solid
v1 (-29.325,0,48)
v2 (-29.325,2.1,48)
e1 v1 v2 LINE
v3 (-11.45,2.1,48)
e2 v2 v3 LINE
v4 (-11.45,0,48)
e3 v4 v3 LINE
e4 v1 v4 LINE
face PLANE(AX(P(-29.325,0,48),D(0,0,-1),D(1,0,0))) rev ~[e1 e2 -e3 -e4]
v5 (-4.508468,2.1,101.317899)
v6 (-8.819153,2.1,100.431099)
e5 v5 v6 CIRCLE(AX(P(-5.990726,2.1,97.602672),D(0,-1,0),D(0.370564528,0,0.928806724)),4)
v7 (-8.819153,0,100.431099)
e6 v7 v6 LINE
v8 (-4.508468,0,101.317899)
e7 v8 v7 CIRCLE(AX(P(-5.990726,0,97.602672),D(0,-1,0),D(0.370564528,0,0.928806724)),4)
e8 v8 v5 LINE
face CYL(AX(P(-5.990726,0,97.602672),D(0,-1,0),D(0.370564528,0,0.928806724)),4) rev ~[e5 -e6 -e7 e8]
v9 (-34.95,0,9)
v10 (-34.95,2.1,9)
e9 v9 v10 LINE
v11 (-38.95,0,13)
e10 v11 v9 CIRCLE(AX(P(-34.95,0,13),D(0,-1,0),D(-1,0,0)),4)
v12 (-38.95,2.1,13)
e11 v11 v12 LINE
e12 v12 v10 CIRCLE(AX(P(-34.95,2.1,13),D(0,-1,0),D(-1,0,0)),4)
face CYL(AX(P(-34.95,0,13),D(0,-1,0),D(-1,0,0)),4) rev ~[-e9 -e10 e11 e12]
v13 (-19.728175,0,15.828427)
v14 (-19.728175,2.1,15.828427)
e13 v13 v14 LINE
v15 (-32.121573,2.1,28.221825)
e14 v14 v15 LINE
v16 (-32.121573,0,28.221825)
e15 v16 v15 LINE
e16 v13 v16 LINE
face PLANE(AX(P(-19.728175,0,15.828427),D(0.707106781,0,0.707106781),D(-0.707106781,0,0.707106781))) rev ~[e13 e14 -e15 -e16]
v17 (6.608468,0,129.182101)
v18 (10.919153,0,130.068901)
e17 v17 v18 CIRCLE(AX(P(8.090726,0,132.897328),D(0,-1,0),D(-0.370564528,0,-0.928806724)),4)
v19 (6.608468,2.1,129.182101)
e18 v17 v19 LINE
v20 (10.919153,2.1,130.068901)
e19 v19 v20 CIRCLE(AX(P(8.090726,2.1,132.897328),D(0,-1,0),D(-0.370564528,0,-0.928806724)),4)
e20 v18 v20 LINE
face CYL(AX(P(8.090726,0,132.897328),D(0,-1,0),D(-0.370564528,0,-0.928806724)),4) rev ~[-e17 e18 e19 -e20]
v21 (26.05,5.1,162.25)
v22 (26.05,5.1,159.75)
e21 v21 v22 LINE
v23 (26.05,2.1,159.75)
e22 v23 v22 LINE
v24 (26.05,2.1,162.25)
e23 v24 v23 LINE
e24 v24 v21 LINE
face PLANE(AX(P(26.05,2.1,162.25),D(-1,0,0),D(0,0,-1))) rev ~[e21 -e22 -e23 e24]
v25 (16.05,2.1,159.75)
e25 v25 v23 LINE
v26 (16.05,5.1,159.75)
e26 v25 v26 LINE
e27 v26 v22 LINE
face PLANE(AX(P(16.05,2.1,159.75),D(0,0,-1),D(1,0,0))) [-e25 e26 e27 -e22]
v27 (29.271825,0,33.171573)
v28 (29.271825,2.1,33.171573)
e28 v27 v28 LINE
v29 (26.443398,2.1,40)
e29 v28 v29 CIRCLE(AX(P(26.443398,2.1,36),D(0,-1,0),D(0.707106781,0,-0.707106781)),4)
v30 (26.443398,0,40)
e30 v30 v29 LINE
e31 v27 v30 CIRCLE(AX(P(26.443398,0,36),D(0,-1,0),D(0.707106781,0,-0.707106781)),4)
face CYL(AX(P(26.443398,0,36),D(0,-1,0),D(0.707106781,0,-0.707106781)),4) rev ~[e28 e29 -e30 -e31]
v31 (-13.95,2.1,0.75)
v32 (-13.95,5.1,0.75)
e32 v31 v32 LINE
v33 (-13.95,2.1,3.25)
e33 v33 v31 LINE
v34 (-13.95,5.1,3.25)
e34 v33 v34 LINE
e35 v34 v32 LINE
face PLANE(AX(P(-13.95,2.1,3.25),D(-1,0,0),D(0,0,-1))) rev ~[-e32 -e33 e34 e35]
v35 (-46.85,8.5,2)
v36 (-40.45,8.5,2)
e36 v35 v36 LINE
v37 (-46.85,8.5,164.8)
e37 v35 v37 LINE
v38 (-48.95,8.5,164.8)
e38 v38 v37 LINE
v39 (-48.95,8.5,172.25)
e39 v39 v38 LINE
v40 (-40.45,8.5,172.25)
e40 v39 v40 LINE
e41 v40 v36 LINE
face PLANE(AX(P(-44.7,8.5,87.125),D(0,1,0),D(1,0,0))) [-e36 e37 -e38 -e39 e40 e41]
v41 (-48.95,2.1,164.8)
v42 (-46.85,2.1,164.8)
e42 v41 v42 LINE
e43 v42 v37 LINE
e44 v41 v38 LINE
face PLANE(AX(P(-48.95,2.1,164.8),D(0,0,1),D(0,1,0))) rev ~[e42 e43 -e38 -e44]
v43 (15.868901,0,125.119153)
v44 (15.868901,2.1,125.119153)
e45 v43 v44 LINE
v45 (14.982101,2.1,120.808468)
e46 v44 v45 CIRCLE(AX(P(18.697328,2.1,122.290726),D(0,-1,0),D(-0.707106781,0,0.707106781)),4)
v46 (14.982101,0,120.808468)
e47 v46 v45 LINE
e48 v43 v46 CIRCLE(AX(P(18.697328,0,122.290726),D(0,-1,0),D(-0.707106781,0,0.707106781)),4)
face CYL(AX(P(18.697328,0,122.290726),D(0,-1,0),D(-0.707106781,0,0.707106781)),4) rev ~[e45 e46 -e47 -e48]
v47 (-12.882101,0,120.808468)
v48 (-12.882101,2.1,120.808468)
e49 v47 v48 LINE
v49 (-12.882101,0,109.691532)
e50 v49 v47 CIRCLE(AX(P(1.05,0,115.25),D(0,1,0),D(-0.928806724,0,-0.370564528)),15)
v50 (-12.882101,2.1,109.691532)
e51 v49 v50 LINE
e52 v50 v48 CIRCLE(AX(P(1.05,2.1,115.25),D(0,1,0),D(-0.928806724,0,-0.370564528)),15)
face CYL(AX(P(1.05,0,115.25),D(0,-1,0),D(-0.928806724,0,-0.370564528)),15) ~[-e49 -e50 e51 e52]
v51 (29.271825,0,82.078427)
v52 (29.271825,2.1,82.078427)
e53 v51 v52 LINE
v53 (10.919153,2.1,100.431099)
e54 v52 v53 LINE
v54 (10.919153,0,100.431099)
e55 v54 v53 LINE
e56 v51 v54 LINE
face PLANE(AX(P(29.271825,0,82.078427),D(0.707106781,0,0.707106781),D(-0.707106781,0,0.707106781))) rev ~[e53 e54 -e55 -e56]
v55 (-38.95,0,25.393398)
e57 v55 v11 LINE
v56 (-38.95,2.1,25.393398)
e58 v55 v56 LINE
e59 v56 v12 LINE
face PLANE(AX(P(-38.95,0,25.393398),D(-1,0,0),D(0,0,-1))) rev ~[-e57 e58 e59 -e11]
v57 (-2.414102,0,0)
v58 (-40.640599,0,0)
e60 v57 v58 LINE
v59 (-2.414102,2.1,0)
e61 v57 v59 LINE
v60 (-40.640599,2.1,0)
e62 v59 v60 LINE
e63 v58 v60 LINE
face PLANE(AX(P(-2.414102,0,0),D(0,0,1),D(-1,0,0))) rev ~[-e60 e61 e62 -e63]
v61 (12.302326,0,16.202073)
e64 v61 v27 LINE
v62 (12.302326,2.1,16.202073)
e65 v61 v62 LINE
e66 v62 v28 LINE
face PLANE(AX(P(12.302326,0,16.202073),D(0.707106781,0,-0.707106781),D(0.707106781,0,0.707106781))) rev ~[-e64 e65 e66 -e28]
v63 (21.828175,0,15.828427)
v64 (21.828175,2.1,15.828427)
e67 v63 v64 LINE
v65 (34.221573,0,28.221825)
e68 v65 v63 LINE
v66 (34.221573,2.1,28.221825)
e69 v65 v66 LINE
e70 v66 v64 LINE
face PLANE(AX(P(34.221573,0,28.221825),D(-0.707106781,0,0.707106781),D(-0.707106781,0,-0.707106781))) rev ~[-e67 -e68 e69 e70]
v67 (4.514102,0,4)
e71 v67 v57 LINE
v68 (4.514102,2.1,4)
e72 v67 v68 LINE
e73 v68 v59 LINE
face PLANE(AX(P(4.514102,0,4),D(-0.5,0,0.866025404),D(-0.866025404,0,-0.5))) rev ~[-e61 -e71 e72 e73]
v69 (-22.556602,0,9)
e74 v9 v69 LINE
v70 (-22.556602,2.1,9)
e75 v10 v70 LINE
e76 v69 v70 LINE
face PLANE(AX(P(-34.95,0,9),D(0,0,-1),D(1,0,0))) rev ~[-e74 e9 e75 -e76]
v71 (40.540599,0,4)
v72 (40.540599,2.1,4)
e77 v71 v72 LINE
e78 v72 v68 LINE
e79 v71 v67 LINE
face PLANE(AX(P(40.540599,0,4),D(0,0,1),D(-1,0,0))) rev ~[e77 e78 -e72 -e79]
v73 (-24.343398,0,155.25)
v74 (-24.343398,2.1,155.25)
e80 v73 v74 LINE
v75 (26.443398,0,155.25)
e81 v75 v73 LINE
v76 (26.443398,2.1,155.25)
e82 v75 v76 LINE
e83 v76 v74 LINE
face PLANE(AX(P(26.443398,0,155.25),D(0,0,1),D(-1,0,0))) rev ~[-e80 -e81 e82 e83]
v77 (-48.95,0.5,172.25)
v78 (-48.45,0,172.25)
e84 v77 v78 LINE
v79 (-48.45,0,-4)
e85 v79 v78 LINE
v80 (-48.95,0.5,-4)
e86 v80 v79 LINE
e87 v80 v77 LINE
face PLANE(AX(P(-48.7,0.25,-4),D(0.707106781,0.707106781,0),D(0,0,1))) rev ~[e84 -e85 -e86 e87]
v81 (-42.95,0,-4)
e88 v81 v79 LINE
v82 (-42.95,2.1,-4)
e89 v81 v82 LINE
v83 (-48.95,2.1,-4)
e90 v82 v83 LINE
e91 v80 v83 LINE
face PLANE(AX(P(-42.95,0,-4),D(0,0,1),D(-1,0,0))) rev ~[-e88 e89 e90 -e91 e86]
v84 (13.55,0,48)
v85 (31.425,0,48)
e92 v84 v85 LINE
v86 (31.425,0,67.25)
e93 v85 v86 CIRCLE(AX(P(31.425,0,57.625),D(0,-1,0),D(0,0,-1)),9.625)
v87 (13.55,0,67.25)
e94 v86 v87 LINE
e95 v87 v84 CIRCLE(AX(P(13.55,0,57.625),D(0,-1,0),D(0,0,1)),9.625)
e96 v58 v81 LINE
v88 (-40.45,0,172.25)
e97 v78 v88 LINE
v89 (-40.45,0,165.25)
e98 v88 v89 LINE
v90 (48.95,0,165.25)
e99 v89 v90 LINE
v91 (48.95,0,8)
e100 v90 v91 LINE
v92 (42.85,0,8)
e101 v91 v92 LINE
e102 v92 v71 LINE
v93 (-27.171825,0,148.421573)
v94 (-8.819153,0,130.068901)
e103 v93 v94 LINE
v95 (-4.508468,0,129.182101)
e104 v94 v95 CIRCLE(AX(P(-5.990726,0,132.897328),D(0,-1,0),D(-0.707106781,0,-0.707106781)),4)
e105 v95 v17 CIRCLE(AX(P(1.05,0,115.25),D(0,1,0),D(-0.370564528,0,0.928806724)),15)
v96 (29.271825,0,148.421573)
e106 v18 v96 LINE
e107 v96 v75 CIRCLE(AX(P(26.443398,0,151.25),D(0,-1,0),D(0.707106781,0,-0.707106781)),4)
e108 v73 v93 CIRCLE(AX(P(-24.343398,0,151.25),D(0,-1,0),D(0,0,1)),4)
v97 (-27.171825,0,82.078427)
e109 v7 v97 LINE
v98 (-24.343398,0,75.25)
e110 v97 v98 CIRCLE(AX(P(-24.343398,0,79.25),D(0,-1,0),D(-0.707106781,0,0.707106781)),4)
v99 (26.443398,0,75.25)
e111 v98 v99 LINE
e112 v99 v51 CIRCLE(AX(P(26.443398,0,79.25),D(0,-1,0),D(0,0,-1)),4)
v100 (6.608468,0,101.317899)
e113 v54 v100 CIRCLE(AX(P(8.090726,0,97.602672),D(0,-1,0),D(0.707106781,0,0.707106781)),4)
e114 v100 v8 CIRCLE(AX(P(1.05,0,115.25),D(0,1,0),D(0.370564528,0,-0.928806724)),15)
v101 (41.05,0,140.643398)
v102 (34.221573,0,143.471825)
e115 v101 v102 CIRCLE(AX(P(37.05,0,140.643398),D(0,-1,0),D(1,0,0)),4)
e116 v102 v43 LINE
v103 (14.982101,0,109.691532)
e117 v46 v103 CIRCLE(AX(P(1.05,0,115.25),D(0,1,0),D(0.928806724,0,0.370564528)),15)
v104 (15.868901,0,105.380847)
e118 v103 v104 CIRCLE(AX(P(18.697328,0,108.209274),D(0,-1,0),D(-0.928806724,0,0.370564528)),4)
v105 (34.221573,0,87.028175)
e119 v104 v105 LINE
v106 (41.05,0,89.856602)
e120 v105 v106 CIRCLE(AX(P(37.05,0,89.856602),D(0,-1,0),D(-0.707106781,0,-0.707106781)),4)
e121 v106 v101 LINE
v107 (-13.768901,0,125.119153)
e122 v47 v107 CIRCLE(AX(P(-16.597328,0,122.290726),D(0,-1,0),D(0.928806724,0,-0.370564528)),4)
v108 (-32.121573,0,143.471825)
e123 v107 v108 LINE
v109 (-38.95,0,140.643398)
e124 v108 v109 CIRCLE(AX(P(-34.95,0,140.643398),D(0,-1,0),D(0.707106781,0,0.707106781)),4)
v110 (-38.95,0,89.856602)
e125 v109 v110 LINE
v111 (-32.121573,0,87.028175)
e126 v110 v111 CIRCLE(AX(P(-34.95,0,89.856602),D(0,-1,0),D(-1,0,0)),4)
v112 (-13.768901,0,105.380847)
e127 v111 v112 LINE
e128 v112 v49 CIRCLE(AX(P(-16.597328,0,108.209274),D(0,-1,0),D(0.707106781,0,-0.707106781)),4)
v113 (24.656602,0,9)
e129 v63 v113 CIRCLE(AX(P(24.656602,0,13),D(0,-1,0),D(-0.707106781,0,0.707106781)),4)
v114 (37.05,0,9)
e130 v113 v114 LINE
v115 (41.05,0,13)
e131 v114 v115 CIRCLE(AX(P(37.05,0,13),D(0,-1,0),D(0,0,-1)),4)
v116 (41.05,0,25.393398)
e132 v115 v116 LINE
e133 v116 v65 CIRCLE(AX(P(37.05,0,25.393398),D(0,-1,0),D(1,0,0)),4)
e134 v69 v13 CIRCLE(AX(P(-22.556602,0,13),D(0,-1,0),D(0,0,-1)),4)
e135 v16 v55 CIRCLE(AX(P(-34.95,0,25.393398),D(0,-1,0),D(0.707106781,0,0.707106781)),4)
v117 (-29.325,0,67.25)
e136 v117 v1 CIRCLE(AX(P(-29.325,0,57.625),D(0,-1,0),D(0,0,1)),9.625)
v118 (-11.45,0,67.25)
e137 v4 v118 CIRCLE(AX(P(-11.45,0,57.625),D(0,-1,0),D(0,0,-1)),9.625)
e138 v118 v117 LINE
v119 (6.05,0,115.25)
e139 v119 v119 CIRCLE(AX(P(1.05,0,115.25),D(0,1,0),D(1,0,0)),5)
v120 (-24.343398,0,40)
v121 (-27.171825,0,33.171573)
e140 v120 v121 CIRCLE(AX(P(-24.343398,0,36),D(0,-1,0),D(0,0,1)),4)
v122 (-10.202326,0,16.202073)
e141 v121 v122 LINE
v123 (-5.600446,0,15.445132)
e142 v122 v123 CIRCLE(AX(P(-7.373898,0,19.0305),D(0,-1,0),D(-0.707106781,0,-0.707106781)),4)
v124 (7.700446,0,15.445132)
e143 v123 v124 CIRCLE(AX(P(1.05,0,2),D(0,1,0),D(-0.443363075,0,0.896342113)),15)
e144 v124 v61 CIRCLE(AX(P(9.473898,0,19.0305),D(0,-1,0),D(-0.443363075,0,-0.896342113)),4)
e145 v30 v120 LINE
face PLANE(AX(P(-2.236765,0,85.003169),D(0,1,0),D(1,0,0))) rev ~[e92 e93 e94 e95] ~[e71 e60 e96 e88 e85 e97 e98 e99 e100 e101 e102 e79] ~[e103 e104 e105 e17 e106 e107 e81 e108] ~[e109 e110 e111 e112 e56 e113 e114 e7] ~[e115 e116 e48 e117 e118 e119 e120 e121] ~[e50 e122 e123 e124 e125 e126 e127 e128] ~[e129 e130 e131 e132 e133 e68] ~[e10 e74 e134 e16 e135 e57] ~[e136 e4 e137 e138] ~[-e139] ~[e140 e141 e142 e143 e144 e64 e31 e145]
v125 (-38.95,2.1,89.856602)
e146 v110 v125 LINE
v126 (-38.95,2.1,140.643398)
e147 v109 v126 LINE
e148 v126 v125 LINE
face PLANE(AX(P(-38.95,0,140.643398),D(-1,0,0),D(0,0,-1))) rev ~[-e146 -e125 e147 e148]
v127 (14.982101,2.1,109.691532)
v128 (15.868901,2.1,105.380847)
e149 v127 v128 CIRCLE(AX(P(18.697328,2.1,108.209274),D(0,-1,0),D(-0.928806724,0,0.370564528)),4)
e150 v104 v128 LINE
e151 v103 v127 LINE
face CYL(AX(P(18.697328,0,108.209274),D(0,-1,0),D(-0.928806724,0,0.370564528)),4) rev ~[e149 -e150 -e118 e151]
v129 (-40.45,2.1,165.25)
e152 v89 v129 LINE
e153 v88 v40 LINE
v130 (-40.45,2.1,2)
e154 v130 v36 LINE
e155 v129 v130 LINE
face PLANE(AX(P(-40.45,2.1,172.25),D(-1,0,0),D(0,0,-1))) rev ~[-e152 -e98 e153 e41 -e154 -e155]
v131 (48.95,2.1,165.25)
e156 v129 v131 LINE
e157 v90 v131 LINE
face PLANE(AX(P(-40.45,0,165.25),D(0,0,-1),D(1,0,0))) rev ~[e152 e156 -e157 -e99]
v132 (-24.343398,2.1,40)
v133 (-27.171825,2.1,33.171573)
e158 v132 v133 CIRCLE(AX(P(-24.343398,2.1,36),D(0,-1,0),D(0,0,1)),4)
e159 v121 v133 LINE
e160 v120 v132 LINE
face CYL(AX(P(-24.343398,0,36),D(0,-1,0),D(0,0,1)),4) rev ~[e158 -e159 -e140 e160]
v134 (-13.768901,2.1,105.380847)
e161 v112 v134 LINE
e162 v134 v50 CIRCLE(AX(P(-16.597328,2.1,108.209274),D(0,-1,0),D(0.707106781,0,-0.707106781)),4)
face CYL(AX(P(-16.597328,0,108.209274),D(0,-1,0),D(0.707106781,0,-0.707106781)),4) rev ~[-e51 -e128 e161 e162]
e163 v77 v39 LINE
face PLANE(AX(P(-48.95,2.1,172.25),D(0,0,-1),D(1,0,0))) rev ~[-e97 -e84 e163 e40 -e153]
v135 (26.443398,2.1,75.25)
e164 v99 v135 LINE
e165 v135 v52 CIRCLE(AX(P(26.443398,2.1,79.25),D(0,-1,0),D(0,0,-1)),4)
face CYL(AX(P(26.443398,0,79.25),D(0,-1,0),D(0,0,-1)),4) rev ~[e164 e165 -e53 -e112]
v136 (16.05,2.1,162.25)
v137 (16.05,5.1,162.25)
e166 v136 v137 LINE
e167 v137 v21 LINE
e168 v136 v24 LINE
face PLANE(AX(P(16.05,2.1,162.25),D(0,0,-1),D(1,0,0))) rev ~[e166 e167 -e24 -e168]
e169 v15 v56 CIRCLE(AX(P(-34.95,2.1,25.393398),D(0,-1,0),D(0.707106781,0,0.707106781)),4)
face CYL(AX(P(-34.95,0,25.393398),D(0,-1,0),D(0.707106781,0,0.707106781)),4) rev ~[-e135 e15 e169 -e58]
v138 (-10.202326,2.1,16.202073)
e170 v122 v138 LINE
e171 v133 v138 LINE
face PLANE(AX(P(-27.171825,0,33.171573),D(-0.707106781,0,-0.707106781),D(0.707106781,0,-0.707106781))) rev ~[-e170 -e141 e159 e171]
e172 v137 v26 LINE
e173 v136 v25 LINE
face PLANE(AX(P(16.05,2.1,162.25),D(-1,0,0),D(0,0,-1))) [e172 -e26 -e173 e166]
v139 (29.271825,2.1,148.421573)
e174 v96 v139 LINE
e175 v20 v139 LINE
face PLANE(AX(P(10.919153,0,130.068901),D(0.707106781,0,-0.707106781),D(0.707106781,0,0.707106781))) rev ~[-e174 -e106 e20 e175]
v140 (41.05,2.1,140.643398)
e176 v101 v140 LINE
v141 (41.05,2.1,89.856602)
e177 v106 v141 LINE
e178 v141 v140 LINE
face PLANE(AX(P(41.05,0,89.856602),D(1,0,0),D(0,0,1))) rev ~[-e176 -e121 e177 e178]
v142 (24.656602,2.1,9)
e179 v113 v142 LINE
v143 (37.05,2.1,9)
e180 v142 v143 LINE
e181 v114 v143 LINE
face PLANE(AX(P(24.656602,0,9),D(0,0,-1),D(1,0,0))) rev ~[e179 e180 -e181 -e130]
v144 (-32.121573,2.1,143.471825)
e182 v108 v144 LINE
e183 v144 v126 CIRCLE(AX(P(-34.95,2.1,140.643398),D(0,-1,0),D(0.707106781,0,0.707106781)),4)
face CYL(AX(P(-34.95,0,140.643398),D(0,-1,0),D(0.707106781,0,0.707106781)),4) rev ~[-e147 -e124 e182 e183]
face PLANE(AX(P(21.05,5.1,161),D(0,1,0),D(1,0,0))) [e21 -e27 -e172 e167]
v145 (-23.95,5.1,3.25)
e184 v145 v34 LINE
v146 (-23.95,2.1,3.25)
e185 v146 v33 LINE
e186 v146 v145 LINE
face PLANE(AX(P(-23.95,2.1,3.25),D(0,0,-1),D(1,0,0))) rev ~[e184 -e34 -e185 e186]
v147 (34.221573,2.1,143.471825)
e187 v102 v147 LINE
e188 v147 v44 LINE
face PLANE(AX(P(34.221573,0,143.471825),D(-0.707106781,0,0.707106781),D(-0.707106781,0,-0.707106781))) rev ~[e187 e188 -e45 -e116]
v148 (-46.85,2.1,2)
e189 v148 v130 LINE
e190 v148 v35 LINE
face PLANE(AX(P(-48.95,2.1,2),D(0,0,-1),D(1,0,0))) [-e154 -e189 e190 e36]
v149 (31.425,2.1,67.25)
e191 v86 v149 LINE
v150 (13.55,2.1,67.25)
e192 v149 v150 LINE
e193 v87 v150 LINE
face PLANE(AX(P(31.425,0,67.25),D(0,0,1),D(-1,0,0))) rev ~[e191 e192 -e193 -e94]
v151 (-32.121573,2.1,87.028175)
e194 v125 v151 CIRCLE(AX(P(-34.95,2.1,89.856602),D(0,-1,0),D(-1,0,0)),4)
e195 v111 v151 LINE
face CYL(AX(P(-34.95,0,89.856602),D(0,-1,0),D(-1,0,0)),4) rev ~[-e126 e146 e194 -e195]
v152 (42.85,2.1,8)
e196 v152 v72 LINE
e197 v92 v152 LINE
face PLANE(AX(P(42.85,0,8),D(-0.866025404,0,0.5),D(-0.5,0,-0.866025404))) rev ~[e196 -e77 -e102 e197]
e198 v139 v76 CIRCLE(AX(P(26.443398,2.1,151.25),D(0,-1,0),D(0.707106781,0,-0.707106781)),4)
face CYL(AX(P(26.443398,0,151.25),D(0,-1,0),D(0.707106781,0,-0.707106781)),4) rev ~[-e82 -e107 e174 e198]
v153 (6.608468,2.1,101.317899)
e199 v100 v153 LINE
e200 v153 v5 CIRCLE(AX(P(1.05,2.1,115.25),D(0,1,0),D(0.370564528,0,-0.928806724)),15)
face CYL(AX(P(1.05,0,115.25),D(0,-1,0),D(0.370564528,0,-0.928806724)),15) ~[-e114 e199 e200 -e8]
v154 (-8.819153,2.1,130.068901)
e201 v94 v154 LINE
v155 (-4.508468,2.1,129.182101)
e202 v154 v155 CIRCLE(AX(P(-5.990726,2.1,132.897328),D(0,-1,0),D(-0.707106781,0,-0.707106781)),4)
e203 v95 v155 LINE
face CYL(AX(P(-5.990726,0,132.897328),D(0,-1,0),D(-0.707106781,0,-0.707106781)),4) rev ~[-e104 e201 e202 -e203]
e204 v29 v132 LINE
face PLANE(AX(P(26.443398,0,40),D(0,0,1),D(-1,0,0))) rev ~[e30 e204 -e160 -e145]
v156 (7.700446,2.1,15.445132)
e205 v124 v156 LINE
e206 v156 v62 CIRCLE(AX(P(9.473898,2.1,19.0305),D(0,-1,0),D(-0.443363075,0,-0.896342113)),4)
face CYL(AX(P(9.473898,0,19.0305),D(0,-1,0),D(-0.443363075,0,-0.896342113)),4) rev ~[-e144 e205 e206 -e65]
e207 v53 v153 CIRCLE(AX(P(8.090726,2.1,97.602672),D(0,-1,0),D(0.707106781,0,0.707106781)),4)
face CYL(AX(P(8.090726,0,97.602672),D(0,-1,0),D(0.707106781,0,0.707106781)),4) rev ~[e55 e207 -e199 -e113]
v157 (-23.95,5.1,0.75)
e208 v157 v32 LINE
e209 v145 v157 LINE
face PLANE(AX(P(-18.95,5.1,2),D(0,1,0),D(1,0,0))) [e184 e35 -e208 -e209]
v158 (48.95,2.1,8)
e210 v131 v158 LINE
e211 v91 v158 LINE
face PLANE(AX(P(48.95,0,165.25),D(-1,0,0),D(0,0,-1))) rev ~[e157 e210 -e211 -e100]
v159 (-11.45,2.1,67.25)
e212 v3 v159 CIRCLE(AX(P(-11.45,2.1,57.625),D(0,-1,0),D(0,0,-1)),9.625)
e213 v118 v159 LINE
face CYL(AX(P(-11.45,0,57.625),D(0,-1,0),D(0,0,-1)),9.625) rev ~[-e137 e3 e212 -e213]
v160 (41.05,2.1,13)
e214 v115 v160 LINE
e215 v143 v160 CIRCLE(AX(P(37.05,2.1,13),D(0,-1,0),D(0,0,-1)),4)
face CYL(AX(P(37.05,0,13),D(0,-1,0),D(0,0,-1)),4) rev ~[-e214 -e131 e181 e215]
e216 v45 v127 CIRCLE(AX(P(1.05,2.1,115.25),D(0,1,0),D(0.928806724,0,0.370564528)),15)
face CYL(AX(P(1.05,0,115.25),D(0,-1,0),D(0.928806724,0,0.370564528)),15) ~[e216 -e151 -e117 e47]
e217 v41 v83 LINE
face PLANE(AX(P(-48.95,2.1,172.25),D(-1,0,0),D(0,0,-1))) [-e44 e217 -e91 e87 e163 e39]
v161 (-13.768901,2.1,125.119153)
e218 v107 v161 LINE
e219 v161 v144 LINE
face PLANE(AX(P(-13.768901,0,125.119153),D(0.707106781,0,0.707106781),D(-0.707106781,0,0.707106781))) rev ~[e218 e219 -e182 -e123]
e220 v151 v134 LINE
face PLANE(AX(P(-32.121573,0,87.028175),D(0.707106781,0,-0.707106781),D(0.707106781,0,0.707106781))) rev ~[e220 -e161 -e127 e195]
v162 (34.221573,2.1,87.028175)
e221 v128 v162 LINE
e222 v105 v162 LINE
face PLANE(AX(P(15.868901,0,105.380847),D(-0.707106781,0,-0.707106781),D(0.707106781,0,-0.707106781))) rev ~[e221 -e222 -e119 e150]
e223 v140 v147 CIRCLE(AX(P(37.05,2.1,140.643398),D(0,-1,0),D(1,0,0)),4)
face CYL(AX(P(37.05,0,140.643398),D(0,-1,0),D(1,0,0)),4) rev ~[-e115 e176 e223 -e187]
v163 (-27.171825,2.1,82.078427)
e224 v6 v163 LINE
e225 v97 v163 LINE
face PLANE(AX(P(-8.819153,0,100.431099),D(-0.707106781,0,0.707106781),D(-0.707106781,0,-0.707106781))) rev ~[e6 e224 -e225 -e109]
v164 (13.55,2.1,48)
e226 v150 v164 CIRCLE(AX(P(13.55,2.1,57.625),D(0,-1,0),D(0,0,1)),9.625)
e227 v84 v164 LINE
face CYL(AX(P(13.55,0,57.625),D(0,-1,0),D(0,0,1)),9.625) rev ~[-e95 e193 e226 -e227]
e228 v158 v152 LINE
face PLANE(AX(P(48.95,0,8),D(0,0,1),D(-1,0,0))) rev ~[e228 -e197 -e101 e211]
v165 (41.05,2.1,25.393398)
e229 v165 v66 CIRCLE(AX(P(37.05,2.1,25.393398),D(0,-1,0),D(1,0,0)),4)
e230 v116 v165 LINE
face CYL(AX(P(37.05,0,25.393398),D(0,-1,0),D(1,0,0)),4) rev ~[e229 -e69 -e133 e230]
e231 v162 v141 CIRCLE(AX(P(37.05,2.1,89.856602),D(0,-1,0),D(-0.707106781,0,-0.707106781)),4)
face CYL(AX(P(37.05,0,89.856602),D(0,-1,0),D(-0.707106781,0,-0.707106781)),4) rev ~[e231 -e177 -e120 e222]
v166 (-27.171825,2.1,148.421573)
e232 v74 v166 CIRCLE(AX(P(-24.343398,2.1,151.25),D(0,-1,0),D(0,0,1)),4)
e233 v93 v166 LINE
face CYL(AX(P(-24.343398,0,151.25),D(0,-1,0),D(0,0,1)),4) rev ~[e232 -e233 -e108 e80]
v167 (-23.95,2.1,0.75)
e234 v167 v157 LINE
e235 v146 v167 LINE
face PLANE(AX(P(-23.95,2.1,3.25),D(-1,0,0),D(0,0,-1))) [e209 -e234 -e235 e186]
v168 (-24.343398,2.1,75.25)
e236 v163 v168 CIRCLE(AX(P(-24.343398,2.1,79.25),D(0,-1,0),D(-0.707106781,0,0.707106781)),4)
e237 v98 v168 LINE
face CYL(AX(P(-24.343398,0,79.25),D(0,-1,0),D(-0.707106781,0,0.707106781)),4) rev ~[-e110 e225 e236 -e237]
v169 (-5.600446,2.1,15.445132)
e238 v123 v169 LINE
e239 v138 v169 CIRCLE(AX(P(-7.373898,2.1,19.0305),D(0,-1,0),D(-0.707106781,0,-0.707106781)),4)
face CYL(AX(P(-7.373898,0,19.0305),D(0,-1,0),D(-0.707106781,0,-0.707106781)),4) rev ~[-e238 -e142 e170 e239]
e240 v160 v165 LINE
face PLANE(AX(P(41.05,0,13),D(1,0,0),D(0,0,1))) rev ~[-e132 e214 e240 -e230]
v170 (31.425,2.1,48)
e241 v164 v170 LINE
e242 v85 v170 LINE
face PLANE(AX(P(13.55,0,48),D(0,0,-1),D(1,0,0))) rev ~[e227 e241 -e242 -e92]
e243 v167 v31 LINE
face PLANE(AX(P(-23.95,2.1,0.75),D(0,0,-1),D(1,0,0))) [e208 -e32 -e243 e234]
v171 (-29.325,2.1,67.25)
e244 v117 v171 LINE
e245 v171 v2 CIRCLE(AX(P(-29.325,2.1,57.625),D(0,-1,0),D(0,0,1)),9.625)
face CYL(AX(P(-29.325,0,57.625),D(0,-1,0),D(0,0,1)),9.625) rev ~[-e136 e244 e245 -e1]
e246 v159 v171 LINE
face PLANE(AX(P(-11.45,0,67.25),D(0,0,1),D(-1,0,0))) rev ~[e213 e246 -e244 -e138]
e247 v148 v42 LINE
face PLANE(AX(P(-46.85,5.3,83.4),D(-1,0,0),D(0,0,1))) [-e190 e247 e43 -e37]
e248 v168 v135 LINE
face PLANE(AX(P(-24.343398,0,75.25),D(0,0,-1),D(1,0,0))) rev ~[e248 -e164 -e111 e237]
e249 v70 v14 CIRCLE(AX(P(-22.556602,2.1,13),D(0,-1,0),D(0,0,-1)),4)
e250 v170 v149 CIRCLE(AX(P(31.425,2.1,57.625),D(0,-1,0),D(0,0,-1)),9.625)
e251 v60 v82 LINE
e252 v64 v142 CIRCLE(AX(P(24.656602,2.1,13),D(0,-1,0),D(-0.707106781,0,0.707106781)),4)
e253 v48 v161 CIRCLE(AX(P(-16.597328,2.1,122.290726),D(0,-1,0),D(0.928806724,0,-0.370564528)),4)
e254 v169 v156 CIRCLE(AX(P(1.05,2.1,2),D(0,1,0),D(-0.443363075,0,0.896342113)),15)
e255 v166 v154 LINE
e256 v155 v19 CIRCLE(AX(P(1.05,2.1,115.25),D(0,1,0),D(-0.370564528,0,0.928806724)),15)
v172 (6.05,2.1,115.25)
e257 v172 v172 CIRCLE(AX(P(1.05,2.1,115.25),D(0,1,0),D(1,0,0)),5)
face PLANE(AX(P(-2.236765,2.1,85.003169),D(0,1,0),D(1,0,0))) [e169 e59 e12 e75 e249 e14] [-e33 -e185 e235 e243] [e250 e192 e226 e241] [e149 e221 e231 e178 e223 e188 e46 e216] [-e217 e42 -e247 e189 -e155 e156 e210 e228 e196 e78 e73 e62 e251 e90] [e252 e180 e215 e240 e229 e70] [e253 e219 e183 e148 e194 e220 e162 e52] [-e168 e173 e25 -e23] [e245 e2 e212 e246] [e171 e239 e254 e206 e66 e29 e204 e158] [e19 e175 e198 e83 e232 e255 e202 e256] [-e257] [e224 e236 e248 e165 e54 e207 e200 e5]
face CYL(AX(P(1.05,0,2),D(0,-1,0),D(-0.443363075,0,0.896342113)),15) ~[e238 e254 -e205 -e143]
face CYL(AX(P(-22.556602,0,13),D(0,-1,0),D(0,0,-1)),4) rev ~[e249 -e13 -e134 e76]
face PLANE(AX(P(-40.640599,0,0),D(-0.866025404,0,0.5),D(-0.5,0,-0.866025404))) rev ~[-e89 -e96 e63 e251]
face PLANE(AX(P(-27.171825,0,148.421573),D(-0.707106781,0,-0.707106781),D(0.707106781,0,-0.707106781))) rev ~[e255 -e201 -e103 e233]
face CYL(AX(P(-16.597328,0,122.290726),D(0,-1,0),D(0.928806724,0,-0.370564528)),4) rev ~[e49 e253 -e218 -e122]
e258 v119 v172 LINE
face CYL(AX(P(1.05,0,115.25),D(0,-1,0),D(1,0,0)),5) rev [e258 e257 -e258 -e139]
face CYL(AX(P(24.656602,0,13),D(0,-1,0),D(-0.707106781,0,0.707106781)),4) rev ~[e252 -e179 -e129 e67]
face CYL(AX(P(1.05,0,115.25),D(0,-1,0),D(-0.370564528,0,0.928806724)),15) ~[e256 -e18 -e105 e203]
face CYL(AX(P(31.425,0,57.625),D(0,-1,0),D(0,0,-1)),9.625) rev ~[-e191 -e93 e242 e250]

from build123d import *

# Parameters (mm, degrees)
SKETCH1_R           = 5
BOSS_EXTRUDE1_DEPTH = 2.1
SKETCH2_W           = 8.5
SKETCH2_H           = 170.25
BOSS_EXTRUDE2_DEPTH = 6.4
SKETCH3_W           = 162.8
SKETCH3_H           = 6.4
CUT_EXTRUDE1_DEPTH  = 2.1
SKETCH4_W           = 10
SKETCH4_H           = 2.5
BOSS_EXTRUDE3_DEPTH = 3
CHAMFER1_SIZE       = 0.5


with BuildPart() as part:
    # Sketch1 → Boss-Extrude1 (new body)
    with BuildSketch(Plane(origin=(0, 0, 0), x_dir=(1, 0, 0), z_dir=(0, 1, 0))):
        Polygon((-48.95, 0.55), (-48.95, -172.25), (-40.45, -172.25), (-40.45, -165.25), (48.95, -165.25), (48.95, -8), (42.85, -8), (40.540598923, -4), (4.514101615, -4), (-2.414101615, 0), (-40.640598923, 0), (-42.95, 4), (-48.95, 4), align=None)
        with BuildLine():
            Line((-13.76890063, -125.119153161), (-32.121572875, -143.471825407))
            ThreePointArc((-32.121572875, -143.471825407), (-36.480733729, -144.338916412), (-38.95, -140.643398282))
            Line((-38.95, -140.643398282), (-38.95, -89.856601718))
            ThreePointArc((-38.95, -89.856601718), (-36.480733729, -86.161083588), (-32.121572875, -87.028174593))
            Line((-32.121572875, -87.028174593), (-13.76890063, -105.380846839))
            ThreePointArc((-13.76890063, -105.380846839), (-12.679375, -107.403267629), (-12.882100859, -109.691532076))
            ThreePointArc((-12.882100859, -109.691532076), (-13.95, -115.25), (-12.882100859, -120.808467924))
            ThreePointArc((-12.882100859, -120.808467924), (-12.679375, -123.096732371), (-13.76890063, -125.119153161))
        make_face(mode=Mode.SUBTRACT)
        with BuildLine():
            ThreePointArc((-24.343398282, -155.25), (-28.038916412, -152.780733729), (-27.171825407, -148.421572875))
            Line((-27.171825407, -148.421572875), (-8.819153161, -130.06890063))
            ThreePointArc((-8.819153161, -130.06890063), (-6.796732371, -128.979375), (-4.508467924, -129.182100859))
            ThreePointArc((-4.508467924, -129.182100859), (1.05, -130.25), (6.608467924, -129.182100859))
            ThreePointArc((6.608467924, -129.182100859), (8.896732371, -128.979375), (10.919153161, -130.06890063))
            Line((10.919153161, -130.06890063), (29.271825407, -148.421572875))
            ThreePointArc((29.271825407, -148.421572875), (30.138916412, -152.780733729), (26.443398282, -155.25))
            Line((26.443398282, -155.25), (-24.343398282, -155.25))
        make_face(mode=Mode.SUBTRACT)
        with Locations((1.05, -115.25)):
            Circle(SKETCH1_R, mode=Mode.SUBTRACT)
        with BuildLine():
            Line((29.271825407, -82.078427125), (10.919153161, -100.43109937))
            ThreePointArc((10.919153161, -100.43109937), (8.896732371, -101.520625), (6.608467924, -101.317899141))
            ThreePointArc((6.608467924, -101.317899141), (1.05, -100.25), (-4.508467924, -101.317899141))
            ThreePointArc((-4.508467924, -101.317899141), (-6.796732371, -101.520625), (-8.819153161, -100.43109937))
            Line((-8.819153161, -100.43109937), (-27.171825407, -82.078427125))
            ThreePointArc((-27.171825407, -82.078427125), (-28.038916412, -77.719266271), (-24.343398282, -75.25))
            Line((-24.343398282, -75.25), (26.443398282, -75.25))
            ThreePointArc((26.443398282, -75.25), (30.138916412, -77.719266271), (29.271825407, -82.078427125))
        make_face(mode=Mode.SUBTRACT)
        with BuildLine():
            ThreePointArc((41.05, -140.643398282), (38.580733729, -144.338916412), (34.221572875, -143.471825407))
            Line((34.221572875, -143.471825407), (15.86890063, -125.119153161))
            ThreePointArc((15.86890063, -125.119153161), (14.779375, -123.096732371), (14.982100859, -120.808467924))
            ThreePointArc((14.982100859, -120.808467924), (16.05, -115.25), (14.982100859, -109.691532076))
            ThreePointArc((14.982100859, -109.691532076), (14.779375, -107.403267629), (15.86890063, -105.380846839))
            Line((15.86890063, -105.380846839), (34.221572875, -87.028174593))
            ThreePointArc((34.221572875, -87.028174593), (38.580733729, -86.161083588), (41.05, -89.856601718))
            Line((41.05, -89.856601718), (41.05, -140.643398282))
        make_face(mode=Mode.SUBTRACT)
        with BuildLine():
            ThreePointArc((-29.325, -67.25), (-38.95, -57.625), (-29.325, -48))
            Line((-29.325, -48), (-11.45, -48))
            ThreePointArc((-11.45, -48), (-1.825, -57.625), (-11.45, -67.25))
            Line((-11.45, -67.25), (-29.325, -67.25))
        make_face(mode=Mode.SUBTRACT)
        with BuildLine():
            ThreePointArc((-38.95, -13), (-37.778427125, -10.171572875), (-34.95, -9))
            Line((-34.95, -9), (-22.556601718, -9))
            ThreePointArc((-22.556601718, -9), (-18.861083588, -11.469266271), (-19.728174593, -15.828427125))
            Line((-19.728174593, -15.828427125), (-32.121572875, -28.221825407))
            ThreePointArc((-32.121572875, -28.221825407), (-36.480733729, -29.088916412), (-38.95, -25.393398282))
            Line((-38.95, -25.393398282), (-38.95, -13))
        make_face(mode=Mode.SUBTRACT)
        with BuildLine():
            ThreePointArc((13.55, -67.25), (3.925, -57.625), (13.55, -48))
            Line((13.55, -48), (31.425, -48))
            ThreePointArc((31.425, -48), (41.05, -57.625), (31.425, -67.25))
            Line((31.425, -67.25), (13.55, -67.25))
        make_face(mode=Mode.SUBTRACT)
        with BuildLine():
            ThreePointArc((-24.343398282, -40), (-28.038916412, -37.530733729), (-27.171825407, -33.171572875))
            Line((-27.171825407, -33.171572875), (-10.202325554, -16.202073022))
            ThreePointArc((-10.202325554, -16.202073022), (-8.02311566, -15.083537139), (-5.600446128, -15.445131695))
            ThreePointArc((-5.600446128, -15.445131695), (1.05, -17), (7.700446128, -15.445131695))
            ThreePointArc((7.700446128, -15.445131695), (10.12311566, -15.083537139), (12.302325554, -16.202073022))
            Line((12.302325554, -16.202073022), (29.271825407, -33.171572875))
            ThreePointArc((29.271825407, -33.171572875), (30.138916412, -37.530733729), (26.443398282, -40))
            Line((26.443398282, -40), (-24.343398282, -40))
        make_face(mode=Mode.SUBTRACT)
        with BuildLine():
            ThreePointArc((37.05, -9), (39.878427125, -10.171572875), (41.05, -13))
            Line((41.05, -13), (41.05, -25.393398282))
            ThreePointArc((41.05, -25.393398282), (38.580733729, -29.088916412), (34.221572875, -28.221825407))
            Line((34.221572875, -28.221825407), (21.828174593, -15.828427125))
            ThreePointArc((21.828174593, -15.828427125), (20.961083588, -11.469266271), (24.656601718, -9))
            Line((24.656601718, -9), (37.05, -9))
        make_face(mode=Mode.SUBTRACT)
    extrude(amount=BOSS_EXTRUDE1_DEPTH)

    # Sketch2 → Boss-Extrude2 (add)
    with BuildSketch(Plane(origin=(0, 2.1, 0), x_dir=(1, 0, 0), z_dir=(0, 1, 0))):
        with Locations((-44.7, -87.125)):
            Rectangle(SKETCH2_W, SKETCH2_H)
    extrude(amount=BOSS_EXTRUDE2_DEPTH)

    # Sketch3 → Cut-Extrude1 (cut)
    with BuildSketch(Plane.ZY.offset(48.95)):
        with Locations((83.4, 5.3)):
            Rectangle(SKETCH3_W, SKETCH3_H)
    extrude(amount=-CUT_EXTRUDE1_DEPTH, mode=Mode.SUBTRACT)

    # Sketch4 → Boss-Extrude3 (add)
    with BuildSketch(Plane(origin=(0, 2.1, 0), x_dir=(1, 0, 0), z_dir=(0, 1, 0))):
        with Locations((-18.95, -2)):
            Rectangle(SKETCH4_W, SKETCH4_H)
        with Locations((21.05, -161)):
            Rectangle(SKETCH4_W, SKETCH4_H)
    extrude(amount=BOSS_EXTRUDE3_DEPTH)

    # Chamfer1
    chamfer1_edges = [part.edges().sort_by_distance(p)[0] for p in [
        (-48.95, 0, 84.125),
    ]]
    chamfer(chamfer1_edges, length=CHAMFER1_SIZE)


solid = part.part
